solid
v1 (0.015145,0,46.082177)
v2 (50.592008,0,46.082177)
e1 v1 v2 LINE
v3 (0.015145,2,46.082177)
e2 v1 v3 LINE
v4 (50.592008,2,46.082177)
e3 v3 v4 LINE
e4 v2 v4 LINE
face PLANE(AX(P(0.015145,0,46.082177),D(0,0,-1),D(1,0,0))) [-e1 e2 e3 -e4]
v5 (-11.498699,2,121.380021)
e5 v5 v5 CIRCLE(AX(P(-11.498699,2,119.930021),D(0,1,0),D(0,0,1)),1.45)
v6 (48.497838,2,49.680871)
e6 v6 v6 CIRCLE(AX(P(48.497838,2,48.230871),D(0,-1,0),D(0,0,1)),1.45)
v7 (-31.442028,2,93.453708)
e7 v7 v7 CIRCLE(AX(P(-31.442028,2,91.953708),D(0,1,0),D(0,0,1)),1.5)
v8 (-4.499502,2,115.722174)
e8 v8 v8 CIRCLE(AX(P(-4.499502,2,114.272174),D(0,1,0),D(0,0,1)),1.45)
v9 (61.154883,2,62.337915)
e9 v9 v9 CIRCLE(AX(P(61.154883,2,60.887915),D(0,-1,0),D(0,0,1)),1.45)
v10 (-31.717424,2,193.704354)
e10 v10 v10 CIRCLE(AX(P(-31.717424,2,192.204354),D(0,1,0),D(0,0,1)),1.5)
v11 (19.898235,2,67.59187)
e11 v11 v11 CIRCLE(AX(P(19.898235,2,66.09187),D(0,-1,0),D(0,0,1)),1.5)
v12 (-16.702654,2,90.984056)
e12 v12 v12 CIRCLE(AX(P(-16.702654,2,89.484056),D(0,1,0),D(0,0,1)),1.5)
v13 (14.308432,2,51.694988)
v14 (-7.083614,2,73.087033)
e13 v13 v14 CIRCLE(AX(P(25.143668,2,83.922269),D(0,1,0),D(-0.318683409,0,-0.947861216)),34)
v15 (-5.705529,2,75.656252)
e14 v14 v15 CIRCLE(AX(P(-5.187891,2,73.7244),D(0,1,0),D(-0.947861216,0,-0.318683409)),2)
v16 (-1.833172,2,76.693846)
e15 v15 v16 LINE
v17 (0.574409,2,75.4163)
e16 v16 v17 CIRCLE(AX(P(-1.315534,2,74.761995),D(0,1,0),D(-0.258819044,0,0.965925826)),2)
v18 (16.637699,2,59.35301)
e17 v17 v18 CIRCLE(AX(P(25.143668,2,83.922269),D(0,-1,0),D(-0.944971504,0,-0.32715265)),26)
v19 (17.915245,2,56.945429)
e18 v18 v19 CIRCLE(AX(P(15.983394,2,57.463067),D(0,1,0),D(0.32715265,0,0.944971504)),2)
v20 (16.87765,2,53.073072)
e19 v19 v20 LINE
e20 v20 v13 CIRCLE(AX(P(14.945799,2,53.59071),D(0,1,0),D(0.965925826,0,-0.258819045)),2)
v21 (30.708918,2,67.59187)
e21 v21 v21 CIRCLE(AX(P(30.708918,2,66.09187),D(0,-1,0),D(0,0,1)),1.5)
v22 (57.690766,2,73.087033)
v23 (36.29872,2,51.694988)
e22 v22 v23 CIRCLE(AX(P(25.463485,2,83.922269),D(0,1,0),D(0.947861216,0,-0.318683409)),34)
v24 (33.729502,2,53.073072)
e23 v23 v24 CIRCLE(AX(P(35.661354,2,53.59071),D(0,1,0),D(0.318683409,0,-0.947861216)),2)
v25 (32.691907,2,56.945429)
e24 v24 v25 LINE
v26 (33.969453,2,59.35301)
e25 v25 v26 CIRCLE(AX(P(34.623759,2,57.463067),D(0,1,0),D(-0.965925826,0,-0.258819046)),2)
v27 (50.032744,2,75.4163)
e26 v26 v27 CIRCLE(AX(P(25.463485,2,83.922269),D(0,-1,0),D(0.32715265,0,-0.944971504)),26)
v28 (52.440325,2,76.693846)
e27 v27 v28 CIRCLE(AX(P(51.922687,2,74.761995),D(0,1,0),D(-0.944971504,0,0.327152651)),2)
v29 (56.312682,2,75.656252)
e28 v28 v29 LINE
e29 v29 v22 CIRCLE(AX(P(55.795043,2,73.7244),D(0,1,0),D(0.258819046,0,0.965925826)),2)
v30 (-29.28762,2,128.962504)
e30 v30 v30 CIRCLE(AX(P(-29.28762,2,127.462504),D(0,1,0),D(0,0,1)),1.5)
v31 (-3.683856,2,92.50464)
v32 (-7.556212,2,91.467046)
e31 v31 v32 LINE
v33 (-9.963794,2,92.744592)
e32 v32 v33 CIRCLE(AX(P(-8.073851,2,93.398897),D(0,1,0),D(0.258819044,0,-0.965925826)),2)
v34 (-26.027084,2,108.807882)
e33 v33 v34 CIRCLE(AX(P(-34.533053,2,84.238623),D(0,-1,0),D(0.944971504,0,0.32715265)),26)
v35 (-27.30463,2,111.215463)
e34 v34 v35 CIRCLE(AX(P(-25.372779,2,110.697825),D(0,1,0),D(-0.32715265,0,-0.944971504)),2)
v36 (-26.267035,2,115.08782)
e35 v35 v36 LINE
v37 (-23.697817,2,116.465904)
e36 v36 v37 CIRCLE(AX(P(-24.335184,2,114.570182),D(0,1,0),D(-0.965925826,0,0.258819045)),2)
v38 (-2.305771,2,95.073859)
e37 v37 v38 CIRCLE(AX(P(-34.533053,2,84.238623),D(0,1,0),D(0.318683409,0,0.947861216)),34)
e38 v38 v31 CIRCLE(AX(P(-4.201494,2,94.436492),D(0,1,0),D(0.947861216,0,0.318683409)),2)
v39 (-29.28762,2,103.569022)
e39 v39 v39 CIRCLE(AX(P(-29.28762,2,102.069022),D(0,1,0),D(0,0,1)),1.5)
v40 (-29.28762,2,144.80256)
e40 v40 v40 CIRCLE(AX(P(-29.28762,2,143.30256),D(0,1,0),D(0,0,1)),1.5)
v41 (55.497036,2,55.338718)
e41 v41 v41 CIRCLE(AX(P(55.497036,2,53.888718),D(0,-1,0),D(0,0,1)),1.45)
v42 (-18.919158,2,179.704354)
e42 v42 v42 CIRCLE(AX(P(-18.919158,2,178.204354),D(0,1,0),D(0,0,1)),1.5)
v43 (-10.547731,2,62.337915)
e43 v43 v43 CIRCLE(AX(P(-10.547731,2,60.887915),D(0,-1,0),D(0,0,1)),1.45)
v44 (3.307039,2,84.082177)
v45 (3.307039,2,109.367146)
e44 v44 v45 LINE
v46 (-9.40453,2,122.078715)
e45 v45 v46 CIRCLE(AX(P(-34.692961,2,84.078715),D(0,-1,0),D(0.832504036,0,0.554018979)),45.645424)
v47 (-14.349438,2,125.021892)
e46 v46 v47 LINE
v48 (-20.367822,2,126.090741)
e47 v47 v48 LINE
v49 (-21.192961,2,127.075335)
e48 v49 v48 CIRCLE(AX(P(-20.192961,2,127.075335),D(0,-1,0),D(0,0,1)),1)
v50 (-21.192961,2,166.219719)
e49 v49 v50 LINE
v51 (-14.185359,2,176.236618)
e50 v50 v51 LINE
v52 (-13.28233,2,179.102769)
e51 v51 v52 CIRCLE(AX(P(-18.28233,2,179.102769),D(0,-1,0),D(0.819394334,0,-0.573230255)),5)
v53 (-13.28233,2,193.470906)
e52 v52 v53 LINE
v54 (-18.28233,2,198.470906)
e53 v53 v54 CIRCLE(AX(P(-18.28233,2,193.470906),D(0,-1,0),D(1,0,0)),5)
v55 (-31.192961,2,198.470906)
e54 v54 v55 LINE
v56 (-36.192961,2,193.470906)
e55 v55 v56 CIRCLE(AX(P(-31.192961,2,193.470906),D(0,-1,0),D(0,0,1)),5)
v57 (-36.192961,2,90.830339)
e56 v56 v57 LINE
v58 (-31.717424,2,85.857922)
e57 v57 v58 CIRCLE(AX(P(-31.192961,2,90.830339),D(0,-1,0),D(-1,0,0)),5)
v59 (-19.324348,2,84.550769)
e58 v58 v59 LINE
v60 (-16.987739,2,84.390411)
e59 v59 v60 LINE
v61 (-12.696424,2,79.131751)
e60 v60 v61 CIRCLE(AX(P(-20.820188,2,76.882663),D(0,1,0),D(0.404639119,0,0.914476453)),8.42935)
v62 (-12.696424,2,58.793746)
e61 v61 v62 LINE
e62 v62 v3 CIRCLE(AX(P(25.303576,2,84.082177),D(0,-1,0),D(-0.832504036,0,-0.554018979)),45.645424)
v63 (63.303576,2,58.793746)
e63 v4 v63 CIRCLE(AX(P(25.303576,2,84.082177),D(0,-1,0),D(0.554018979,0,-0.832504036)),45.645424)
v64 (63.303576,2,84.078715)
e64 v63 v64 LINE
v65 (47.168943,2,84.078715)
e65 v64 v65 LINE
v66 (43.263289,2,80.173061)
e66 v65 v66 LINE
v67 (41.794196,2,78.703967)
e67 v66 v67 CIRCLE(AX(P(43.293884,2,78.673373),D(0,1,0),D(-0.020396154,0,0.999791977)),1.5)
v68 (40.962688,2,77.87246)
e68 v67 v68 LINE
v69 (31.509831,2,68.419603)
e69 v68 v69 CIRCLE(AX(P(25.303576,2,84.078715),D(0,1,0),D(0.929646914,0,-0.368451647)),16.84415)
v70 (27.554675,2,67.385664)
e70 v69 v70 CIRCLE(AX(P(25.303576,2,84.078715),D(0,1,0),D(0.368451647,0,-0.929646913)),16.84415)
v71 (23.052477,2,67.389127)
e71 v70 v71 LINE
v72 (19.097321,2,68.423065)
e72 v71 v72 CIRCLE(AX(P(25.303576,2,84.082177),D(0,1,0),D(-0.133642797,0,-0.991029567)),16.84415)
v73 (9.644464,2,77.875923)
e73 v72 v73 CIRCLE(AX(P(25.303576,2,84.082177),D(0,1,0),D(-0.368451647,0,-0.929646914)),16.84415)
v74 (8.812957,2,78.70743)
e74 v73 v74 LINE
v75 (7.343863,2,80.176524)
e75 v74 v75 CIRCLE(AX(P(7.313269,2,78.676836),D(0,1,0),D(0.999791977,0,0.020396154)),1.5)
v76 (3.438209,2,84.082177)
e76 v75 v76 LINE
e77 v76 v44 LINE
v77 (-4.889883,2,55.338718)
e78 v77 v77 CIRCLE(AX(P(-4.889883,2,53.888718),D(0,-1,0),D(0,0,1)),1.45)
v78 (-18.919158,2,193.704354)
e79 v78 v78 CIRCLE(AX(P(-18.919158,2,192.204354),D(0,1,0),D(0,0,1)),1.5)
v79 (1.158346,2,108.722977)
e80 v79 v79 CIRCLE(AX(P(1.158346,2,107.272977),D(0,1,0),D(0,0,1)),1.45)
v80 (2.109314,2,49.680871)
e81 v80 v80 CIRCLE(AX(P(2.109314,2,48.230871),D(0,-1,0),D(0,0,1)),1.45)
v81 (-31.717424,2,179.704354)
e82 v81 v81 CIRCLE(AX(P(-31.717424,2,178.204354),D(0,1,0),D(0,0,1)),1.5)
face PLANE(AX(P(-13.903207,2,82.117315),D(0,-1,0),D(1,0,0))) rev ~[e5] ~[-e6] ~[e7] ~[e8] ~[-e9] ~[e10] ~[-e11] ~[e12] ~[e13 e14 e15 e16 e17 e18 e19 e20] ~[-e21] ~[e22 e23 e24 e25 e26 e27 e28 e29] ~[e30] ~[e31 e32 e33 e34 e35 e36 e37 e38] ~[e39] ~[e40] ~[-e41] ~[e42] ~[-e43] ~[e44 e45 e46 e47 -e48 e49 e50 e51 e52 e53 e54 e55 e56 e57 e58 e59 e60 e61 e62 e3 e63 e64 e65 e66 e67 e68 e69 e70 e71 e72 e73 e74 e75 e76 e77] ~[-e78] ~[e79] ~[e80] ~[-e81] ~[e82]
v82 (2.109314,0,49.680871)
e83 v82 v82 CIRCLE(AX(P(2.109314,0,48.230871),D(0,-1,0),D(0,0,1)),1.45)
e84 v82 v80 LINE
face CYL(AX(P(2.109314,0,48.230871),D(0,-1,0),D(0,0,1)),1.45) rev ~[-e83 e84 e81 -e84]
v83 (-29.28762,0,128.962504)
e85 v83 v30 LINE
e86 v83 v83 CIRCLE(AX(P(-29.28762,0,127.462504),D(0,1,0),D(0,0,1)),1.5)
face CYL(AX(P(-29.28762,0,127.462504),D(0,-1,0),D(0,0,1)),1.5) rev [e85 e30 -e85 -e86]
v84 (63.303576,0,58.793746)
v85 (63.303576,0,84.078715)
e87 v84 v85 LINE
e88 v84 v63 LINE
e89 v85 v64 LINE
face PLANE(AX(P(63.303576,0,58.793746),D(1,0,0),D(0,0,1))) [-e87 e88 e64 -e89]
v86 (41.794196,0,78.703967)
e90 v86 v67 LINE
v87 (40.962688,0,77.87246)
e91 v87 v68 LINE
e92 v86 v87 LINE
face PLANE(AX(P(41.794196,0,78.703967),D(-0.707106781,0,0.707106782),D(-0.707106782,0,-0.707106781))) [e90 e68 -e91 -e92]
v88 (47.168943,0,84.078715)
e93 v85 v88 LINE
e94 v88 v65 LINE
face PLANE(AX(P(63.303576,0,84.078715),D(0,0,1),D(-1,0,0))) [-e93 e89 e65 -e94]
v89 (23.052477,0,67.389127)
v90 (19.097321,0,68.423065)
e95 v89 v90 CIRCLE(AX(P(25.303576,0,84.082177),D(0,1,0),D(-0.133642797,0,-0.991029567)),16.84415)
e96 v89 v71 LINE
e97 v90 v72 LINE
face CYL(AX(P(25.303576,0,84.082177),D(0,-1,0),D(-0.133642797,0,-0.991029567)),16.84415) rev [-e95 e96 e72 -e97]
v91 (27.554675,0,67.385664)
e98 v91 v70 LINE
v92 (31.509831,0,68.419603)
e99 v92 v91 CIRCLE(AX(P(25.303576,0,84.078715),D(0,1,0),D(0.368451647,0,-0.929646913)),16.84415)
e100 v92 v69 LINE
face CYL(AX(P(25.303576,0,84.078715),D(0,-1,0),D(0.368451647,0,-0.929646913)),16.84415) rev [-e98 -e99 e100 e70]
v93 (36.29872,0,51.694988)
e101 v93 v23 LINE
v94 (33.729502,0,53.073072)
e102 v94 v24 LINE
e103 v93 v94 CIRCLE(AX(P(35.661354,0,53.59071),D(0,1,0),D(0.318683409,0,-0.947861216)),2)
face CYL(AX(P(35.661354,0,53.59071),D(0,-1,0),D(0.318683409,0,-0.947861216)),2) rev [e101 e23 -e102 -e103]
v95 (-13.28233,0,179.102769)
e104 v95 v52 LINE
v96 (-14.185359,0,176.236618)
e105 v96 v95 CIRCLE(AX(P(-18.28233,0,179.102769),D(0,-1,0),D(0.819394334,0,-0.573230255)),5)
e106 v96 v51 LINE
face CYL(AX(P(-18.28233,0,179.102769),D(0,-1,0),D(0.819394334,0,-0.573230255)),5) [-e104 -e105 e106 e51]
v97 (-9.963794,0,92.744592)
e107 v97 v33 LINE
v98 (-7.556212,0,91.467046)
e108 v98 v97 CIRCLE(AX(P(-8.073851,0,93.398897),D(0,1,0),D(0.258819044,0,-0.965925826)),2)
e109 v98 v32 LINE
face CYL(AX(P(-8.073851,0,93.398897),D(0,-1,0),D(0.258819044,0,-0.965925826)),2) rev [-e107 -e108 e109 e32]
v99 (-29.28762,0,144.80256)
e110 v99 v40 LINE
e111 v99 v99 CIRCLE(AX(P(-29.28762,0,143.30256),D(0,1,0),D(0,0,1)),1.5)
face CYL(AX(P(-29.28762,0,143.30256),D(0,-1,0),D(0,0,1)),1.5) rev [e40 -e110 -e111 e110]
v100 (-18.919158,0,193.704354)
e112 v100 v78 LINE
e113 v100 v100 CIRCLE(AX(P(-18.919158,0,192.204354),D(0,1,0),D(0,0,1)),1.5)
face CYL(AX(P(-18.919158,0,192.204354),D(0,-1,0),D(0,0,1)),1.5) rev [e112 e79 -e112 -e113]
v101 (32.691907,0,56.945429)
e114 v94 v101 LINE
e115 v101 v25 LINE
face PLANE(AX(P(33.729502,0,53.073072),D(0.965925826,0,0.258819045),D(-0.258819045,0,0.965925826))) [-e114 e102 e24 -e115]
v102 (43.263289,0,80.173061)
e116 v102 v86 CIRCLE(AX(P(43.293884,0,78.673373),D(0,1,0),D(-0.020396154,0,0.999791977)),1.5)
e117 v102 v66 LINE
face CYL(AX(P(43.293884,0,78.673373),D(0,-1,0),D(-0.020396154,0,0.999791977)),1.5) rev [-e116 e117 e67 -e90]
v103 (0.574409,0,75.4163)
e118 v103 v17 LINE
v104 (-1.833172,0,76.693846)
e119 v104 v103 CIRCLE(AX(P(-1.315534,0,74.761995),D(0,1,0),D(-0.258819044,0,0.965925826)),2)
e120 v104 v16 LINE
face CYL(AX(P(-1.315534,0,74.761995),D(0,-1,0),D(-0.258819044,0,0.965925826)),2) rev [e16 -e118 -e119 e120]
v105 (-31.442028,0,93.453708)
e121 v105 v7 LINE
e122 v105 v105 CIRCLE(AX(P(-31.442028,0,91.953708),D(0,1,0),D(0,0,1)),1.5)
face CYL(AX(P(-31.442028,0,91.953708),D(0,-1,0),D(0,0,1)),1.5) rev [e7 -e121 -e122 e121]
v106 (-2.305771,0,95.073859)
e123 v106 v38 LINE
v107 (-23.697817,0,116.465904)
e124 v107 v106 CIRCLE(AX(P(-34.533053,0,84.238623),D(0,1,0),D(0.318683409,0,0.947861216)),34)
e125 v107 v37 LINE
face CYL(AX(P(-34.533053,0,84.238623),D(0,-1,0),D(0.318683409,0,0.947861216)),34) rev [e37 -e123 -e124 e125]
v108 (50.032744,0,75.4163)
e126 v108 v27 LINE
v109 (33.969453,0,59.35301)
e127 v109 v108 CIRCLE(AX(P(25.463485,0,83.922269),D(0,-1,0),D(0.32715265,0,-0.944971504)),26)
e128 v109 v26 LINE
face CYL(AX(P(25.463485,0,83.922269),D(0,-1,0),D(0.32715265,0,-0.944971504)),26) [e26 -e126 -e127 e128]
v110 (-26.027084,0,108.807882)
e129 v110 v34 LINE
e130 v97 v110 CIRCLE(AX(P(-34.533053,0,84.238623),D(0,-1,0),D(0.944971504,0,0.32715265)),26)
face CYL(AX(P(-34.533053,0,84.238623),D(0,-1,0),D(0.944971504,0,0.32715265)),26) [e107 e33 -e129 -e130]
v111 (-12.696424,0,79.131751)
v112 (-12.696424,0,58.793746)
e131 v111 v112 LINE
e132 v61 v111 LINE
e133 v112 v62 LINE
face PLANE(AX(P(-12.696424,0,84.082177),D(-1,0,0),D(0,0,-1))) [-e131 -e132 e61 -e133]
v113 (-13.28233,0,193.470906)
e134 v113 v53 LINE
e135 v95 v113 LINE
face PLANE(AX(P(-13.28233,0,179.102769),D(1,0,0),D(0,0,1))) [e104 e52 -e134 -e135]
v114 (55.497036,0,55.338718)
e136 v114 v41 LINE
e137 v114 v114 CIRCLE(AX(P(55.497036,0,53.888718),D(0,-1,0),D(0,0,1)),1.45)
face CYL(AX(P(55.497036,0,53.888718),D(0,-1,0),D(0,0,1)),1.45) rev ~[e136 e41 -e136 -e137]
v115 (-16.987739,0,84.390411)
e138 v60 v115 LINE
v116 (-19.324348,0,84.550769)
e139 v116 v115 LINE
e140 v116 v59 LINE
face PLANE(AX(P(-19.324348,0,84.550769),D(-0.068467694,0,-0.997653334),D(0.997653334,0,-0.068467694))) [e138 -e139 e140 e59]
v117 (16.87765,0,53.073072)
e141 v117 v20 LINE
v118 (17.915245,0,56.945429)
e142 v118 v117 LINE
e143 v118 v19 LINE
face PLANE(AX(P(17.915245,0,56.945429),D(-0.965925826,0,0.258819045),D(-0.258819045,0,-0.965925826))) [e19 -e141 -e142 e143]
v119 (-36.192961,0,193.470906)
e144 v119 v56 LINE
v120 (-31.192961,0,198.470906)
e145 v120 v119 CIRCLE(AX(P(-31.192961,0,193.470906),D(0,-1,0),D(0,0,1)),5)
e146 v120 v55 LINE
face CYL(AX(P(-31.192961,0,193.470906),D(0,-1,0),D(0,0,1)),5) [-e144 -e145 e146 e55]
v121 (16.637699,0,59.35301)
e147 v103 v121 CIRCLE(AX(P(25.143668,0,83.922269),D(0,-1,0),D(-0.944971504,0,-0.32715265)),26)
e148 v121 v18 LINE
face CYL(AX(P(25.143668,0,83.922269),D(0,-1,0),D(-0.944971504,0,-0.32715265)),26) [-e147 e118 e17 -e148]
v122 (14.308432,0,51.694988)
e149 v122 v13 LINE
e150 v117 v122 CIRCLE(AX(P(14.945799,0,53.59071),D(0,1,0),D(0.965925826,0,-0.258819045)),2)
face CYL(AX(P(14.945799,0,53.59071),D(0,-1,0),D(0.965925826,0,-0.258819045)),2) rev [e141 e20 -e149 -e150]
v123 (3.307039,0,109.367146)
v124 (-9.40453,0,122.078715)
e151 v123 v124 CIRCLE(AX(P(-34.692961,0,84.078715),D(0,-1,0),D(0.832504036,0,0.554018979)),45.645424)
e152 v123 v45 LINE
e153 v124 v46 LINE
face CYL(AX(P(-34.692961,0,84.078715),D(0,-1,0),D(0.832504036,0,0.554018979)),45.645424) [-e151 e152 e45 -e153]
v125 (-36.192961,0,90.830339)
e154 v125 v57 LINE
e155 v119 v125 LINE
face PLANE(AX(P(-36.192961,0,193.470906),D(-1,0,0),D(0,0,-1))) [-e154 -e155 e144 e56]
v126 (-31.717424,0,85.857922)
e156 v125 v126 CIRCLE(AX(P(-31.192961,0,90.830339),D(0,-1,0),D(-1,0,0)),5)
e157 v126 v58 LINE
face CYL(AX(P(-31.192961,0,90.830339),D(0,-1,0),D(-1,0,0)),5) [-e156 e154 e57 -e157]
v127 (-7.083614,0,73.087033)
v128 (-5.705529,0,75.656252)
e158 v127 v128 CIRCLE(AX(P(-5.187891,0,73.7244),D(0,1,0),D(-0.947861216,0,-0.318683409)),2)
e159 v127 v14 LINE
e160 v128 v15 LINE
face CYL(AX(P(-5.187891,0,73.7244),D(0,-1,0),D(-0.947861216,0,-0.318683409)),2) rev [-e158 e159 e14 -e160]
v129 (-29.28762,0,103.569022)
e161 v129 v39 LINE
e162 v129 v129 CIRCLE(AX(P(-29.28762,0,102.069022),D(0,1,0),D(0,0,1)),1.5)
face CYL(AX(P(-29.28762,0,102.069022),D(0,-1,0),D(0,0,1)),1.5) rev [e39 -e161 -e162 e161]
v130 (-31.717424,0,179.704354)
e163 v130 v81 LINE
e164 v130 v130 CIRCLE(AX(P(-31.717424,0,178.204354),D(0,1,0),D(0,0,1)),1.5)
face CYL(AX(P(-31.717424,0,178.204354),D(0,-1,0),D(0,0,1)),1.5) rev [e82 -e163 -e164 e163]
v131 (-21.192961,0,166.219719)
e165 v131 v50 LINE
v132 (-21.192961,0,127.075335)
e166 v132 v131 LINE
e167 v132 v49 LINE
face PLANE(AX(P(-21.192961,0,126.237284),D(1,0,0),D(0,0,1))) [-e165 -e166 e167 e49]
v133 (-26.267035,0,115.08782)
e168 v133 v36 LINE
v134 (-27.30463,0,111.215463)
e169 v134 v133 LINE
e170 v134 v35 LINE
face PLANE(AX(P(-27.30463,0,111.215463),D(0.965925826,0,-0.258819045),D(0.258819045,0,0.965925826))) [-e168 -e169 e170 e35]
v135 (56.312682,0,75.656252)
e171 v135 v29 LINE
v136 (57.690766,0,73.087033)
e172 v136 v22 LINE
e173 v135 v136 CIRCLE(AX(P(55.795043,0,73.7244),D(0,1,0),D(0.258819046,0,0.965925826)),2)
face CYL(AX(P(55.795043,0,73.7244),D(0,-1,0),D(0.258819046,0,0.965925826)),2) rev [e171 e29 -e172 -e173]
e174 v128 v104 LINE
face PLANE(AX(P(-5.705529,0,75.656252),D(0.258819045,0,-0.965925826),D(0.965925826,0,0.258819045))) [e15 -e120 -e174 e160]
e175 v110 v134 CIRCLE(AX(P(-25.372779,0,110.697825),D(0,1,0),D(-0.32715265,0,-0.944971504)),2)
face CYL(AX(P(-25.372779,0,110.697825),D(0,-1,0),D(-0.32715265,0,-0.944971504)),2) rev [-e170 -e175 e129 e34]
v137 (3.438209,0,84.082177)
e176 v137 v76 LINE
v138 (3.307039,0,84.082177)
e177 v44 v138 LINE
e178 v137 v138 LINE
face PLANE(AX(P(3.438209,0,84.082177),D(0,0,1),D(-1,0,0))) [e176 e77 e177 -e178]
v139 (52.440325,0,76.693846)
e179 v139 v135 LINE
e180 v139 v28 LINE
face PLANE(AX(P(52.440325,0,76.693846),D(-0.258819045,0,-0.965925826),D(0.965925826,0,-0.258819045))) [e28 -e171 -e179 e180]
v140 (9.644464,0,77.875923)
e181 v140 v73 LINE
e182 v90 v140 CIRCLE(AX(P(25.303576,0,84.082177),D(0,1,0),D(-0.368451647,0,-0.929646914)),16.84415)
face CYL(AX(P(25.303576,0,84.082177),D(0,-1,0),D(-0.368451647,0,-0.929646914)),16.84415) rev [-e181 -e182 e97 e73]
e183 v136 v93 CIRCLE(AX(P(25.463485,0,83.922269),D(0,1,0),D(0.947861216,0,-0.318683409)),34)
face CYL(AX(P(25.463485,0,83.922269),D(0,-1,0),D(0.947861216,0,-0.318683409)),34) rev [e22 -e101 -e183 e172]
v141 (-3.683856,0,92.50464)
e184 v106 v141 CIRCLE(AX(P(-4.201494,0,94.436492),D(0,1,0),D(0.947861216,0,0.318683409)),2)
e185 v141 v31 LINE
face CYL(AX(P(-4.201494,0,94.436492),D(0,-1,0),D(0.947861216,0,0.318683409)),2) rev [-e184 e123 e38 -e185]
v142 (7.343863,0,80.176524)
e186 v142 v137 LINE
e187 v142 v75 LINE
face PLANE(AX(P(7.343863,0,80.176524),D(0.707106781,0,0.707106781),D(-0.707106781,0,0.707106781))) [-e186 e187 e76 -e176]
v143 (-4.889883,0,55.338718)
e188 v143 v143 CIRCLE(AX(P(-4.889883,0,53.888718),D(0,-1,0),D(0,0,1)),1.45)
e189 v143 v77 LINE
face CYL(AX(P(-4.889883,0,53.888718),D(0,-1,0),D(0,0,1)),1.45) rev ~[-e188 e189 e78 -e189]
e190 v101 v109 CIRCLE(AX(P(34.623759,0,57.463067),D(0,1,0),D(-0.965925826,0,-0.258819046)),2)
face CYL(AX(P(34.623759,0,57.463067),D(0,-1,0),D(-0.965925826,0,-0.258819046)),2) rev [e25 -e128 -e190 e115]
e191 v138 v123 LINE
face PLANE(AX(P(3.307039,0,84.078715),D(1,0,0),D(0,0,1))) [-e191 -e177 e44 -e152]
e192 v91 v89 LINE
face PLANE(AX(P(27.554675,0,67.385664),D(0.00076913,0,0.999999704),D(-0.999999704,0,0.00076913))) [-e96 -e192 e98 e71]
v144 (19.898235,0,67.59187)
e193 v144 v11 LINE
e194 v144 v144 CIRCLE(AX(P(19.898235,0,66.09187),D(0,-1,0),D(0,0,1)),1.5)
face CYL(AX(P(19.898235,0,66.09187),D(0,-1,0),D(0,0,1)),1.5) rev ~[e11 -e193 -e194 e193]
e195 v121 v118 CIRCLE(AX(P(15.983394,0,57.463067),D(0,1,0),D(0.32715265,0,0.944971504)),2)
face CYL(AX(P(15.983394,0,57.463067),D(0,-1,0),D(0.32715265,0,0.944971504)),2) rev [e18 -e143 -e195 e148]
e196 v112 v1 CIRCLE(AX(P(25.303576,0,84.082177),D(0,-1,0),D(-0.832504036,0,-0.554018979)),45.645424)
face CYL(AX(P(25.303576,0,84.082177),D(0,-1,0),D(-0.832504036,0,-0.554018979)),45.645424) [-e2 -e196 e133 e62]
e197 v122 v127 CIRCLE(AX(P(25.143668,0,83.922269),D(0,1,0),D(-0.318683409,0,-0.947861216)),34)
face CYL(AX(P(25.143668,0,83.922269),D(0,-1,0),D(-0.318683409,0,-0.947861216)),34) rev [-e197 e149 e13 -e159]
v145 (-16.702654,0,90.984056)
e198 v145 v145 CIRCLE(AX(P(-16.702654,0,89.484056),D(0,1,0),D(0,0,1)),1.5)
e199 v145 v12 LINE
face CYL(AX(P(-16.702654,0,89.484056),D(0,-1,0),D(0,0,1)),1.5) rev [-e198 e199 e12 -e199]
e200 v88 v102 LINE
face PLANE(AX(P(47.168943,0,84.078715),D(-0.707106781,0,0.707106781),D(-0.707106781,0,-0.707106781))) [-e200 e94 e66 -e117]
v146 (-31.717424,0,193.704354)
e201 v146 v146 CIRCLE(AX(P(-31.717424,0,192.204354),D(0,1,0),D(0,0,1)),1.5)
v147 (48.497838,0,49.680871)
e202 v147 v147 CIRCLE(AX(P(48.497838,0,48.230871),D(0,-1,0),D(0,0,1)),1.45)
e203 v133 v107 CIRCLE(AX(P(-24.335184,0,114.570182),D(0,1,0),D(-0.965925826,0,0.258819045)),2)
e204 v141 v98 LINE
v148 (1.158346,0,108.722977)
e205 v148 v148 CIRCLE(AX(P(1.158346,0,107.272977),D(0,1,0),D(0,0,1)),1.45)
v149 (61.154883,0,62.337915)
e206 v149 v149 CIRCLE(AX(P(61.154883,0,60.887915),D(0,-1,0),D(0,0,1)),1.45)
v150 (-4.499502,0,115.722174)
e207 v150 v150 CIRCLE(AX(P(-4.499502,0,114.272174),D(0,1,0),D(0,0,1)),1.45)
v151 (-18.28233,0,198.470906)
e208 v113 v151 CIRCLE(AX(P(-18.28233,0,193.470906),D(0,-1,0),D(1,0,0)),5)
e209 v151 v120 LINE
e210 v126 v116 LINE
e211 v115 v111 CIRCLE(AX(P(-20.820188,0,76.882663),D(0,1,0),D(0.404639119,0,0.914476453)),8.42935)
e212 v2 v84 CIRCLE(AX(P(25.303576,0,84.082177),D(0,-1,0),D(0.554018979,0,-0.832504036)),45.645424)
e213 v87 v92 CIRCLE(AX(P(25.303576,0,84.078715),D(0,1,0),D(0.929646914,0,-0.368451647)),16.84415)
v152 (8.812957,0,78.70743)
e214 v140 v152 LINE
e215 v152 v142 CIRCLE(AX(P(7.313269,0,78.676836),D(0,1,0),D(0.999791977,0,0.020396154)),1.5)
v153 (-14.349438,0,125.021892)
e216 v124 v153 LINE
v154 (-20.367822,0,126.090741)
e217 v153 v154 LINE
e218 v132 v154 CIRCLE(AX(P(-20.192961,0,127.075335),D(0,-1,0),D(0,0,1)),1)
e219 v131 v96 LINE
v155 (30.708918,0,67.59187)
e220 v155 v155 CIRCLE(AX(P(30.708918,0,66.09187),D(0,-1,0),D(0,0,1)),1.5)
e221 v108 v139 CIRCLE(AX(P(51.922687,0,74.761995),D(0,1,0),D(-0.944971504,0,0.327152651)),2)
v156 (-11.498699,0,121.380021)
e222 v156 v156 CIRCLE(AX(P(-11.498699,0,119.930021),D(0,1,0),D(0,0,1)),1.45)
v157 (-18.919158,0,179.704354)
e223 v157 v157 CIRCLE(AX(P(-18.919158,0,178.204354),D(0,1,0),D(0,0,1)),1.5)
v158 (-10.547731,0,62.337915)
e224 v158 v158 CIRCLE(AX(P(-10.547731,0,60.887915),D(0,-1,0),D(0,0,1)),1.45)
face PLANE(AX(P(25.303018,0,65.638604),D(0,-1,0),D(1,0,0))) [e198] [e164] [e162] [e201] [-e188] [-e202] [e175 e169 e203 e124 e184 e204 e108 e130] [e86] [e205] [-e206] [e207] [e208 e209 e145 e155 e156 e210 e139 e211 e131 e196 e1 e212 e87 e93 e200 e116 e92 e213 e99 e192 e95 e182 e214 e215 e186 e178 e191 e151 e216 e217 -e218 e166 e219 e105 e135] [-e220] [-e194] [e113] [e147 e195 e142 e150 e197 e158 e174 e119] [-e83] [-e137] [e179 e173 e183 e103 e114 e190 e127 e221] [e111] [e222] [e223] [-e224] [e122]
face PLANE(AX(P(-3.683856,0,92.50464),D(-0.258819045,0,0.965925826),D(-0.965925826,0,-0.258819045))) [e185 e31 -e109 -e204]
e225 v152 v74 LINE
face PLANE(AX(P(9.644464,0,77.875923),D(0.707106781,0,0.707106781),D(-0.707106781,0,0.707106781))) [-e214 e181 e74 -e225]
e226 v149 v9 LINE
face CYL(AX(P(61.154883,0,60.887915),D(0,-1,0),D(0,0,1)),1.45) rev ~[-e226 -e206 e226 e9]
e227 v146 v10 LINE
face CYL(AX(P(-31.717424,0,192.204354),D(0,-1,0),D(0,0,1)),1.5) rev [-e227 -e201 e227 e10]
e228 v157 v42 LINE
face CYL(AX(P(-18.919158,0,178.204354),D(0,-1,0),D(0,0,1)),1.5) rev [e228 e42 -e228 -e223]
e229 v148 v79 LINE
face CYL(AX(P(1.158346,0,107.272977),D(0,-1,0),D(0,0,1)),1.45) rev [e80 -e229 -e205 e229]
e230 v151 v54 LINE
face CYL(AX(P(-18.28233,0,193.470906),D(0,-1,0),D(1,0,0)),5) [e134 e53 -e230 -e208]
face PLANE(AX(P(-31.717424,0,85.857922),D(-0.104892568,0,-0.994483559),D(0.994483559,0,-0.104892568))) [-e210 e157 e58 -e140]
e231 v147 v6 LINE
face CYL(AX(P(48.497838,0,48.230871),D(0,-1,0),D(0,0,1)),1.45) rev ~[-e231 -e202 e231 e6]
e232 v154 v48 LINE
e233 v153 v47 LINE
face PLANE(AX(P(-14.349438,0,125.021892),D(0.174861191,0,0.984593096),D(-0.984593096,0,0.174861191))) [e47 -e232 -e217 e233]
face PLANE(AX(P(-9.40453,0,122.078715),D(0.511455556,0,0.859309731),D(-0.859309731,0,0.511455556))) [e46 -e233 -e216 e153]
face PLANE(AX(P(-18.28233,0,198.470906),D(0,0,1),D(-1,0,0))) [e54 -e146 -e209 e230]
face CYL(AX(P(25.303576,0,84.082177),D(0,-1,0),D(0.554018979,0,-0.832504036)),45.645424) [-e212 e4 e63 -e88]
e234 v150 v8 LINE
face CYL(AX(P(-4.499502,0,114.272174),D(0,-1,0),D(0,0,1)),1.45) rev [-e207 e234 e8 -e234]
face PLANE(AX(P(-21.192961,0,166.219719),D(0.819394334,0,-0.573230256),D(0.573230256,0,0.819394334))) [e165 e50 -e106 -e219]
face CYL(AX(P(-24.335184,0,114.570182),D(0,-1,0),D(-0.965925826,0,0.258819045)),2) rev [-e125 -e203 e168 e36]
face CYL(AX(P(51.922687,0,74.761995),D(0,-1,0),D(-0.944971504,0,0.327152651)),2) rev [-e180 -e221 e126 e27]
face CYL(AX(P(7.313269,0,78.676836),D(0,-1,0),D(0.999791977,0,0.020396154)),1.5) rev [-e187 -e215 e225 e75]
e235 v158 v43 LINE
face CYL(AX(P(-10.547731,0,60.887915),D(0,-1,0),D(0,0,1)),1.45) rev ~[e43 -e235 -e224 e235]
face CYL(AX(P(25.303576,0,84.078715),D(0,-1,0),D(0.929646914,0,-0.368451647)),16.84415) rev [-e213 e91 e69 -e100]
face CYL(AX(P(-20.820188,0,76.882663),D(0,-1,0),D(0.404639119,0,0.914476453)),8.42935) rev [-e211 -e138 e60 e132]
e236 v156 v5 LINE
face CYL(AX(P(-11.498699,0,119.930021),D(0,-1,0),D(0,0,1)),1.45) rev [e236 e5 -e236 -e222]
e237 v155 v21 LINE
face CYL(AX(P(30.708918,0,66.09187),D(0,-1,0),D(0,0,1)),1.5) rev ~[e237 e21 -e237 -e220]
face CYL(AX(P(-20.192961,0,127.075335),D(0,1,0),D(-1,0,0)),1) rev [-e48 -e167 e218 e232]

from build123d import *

# Parameters (mm, degrees)
SKETCH1_R           = 1.5
SKETCH1_R_2         = 1.45
BOSS_EXTRUDE1_DEPTH = 2
SKETCH_1_R          = 1.45
SKETCH_1_R_2        = 1.5
EXTRUDE_1_DEPTH     = 2
EXTRUDE_2_DEPTH     = 2
FILLET1_R           = 1


with BuildPart() as part:
    # Sketch1 → Boss-Extrude1 (new body)
    with BuildSketch(Plane(origin=(0, 0, 0), x_dir=(1, 0, 0), z_dir=(0, 1, 0))):
        with BuildLine():
            Line((-21.192961085, -132.078714637), (-21.192961085, -166.219718768))
            Line((-21.192961085, -166.219718768), (-14.185358568, -176.236618152))
            ThreePointArc((-14.185358568, -176.236618152), (-13.513427934, -177.60024794), (-13.282330236, -179.10276943))
            Line((-13.282330236, -179.10276943), (-13.282330236, -193.470906367))
            ThreePointArc((-13.282330236, -193.470906367), (-14.74679633, -197.006440273), (-18.282330236, -198.470906367))
            Line((-18.282330236, -198.470906367), (-21.77517331, -198.470906367))
            Line((-21.77517331, -198.470906367), (-31.192961085, -198.470906367))
            ThreePointArc((-31.192961085, -198.470906367), (-34.728494991, -197.006440273), (-36.192961085, -193.470906367))
            Line((-36.192961085, -193.470906367), (-36.192961085, -90.830339434))
            ThreePointArc((-36.192961085, -90.830339434), (-34.909297601, -87.485366654), (-31.717423925, -85.857921639))
            Line((-31.717423925, -85.857921639), (-19.324348326, -84.550769285))
            Line((-19.324348326, -84.550769285), (-12.49642386, -84.082177413))
            Line((-12.49642386, -84.082177413), (3.10357614, -84.082177413))
            Line((3.10357614, -84.082177413), (3.307038915, -84.078714637))
            Line((3.307038915, -84.078714637), (3.307038915, -109.367146032))
            ThreePointArc((3.307038915, -109.367146032), (-2.41677201, -116.354903712), (-9.40452969, -122.078714637))
            Line((-9.40452969, -122.078714637), (-14.349438262, -125.02189202))
            Line((-14.349438262, -125.02189202), (-21.192961085, -126.237284003))
            Line((-21.192961085, -126.237284003), (-21.192961085, -132.078714637))
        make_face()
        with Locations(Location((-18.919157596, -192.204354167, 0), (0, 0, 270))):
            Circle(SKETCH1_R, mode=Mode.SUBTRACT)
        with Locations(Location((-18.919157596, -178.204354167, 0), (0, 0, 270))):
            Circle(SKETCH1_R, mode=Mode.SUBTRACT)
        with Locations(Location((-31.717423925, -178.204354167, 0), (0, 0, 270))):
            Circle(SKETCH1_R, mode=Mode.SUBTRACT)
        with Locations(Location((-31.717423925, -192.204354167, 0), (0, 0, 270))):
            Circle(SKETCH1_R, mode=Mode.SUBTRACT)
        with Locations(Location((-29.287619577, -102.069022085, 0), (0, 0, 270))):
            Circle(SKETCH1_R, mode=Mode.SUBTRACT)
        with Locations(Location((-16.702653636, -89.484056145, 0), (0, 0, 270))):
            Circle(SKETCH1_R, mode=Mode.SUBTRACT)
        with Locations(Location((1.158345759, -107.272976806, 0), (0, 0, 270))):
            Circle(SKETCH1_R_2, mode=Mode.SUBTRACT)
        with Locations(Location((-4.499501528, -114.272174194, 0), (0, 0, 270))):
            Circle(SKETCH1_R_2, mode=Mode.SUBTRACT)
        with Locations(Location((-11.498698916, -119.930021481, 0), (0, 0, 270))):
            Circle(SKETCH1_R_2, mode=Mode.SUBTRACT)
        with Locations(Location((-29.287619577, -127.462503818, 0), (0, 0, 270))):
            Circle(SKETCH1_R, mode=Mode.SUBTRACT)
        with Locations(Location((-29.287619577, -143.302559608, 0), (0, 0, 270))):
            Circle(SKETCH1_R, mode=Mode.SUBTRACT)
        with Locations(Location((-31.442028499, -91.953708305, 0), (0, 0, 270))):
            Circle(SKETCH1_R, mode=Mode.SUBTRACT)
        with BuildLine():
            Line((-3.683855698, -92.504640443), (-7.556212498, -91.467045565))
            ThreePointArc((-7.556212498, -91.467045565), (-9.011313317, -91.632215687), (-9.963793597, -92.744591918))
            ThreePointArc((-9.963793597, -92.744591918), (-16.148276393, -102.623399329), (-26.027083804, -108.807882125))
            ThreePointArc((-26.027083804, -108.807882125), (-27.139460035, -109.760362404), (-27.304630157, -111.215463223))
            Line((-27.304630157, -111.215463223), (-26.267035279, -115.087820024))
            ThreePointArc((-26.267035279, -115.087820024), (-25.280541686, -116.332651264), (-23.697816809, -116.465904366))
            ThreePointArc((-23.697816809, -116.465904366), (-10.491422144, -108.280253578), (-2.305771356, -95.073858913))
            ThreePointArc((-2.305771356, -95.073858913), (-2.439024458, -93.491134036), (-3.683855698, -92.504640443))
        make_face(mode=Mode.SUBTRACT)
    extrude(amount=BOSS_EXTRUDE1_DEPTH)

    # 草图1 → 凸台-拉伸1 (add)
    with BuildSketch(Plane.XZ):
        with BuildLine():
            Line((-12.69642386, 84.082177413), (-12.69642386, 58.793746018))
            ThreePointArc((-12.69642386, 58.793746018), (-6.972612935, 51.805988338), (0.015144745, 46.082177413))
            Line((0.015144745, 46.082177413), (25.30357614, 46.082177413))
            Line((25.30357614, 46.082177413), (50.592007535, 46.082177413))
            ThreePointArc((50.592007535, 46.082177413), (57.579765215, 51.805988338), (63.30357614, 58.793746018))
            Line((63.30357614, 58.793746018), (63.30357614, 84.078714637))
            Line((63.30357614, 84.078714637), (47.168942899, 84.078714637))
            Line((47.168942899, 84.078714637), (43.263289357, 80.173061094))
            ThreePointArc((43.263289357, 80.173061094), (44.35454376, 77.612712957), (41.794195623, 78.70396736))
            Line((41.794195623, 78.70396736), (40.962688124, 77.872459862))
            ThreePointArc((40.962688124, 77.872459862), (37.21418877, 72.168102006), (31.509830915, 68.419602653))
            ThreePointArc((31.509830915, 68.419602653), (29.563736563, 67.782199069), (27.554675458, 67.385664037))
            Line((27.554675458, 67.385664037), (23.052476821, 67.389126813))
            ThreePointArc((23.052476821, 67.389126813), (21.043415716, 67.785661845), (19.097321364, 68.423065428))
            ThreePointArc((19.097321364, 68.423065428), (13.392963509, 72.171564782), (9.644464155, 77.875922638))
            Line((9.644464155, 77.875922638), (8.812956657, 78.707430136))
            ThreePointArc((8.812956657, 78.707430136), (6.25260852, 77.616175733), (7.343862923, 80.17652387))
            Line((7.343862923, 80.17652387), (3.43820938, 84.082177413))
            Line((3.43820938, 84.082177413), (-12.69642386, 84.082177413))
        make_face()
        with Locations(Location((61.154882984, 60.887915244, 0), (0, 0, 90))):
            Circle(SKETCH_1_R, mode=Mode.SUBTRACT)
        with Locations(Location((55.497035696, 53.888717856, 0), (0, 0, 90))):
            Circle(SKETCH_1_R, mode=Mode.SUBTRACT)
        with Locations(Location((48.497838309, 48.230870569, 0), (0, 0, 90))):
            Circle(SKETCH_1_R, mode=Mode.SUBTRACT)
        with Locations(Location((30.708917648, 66.091869964, 0), (0, 0, 90))):
            Circle(SKETCH_1_R_2, mode=Mode.SUBTRACT)
        with Locations(Location((2.109313971, 48.230870569, 0), (0, 0, 90))):
            Circle(SKETCH_1_R, mode=Mode.SUBTRACT)
        with Locations(Location((-4.889883417, 53.888717856, 0), (0, 0, 90))):
            Circle(SKETCH_1_R, mode=Mode.SUBTRACT)
        with Locations(Location((-10.547730705, 60.887915244, 0), (0, 0, 90))):
            Circle(SKETCH_1_R, mode=Mode.SUBTRACT)
        with Locations(Location((19.898234632, 66.091869964, 0), (0, 0, 90))):
            Circle(SKETCH_1_R_2, mode=Mode.SUBTRACT)
        with BuildLine():
            Line((52.440324726, 76.693846485), (56.312681527, 75.656251607))
            ThreePointArc((56.312681527, 75.656251607), (57.557512766, 74.669758014), (57.690765869, 73.087033137))
            ThreePointArc((57.690765869, 73.087033137), (49.505115081, 59.880638472), (36.298720415, 51.694987684))
            ThreePointArc((36.298720415, 51.694987684), (34.715995538, 51.828240786), (33.729501945, 53.073072026))
            Line((33.729501945, 53.073072026), (32.691907068, 56.945428827))
            ThreePointArc((32.691907068, 56.945428827), (32.857077189, 58.400529646), (33.96945342, 59.353009925))
            ThreePointArc((33.96945342, 59.353009925), (43.848260831, 65.537492721), (50.032743627, 75.416300132))
            ThreePointArc((50.032743627, 75.416300132), (50.985223907, 76.528676363), (52.440324726, 76.693846485))
        make_face(mode=Mode.SUBTRACT)
        with BuildLine():
            Line((17.915245212, 56.945428827), (16.877650334, 53.073072026))
            ThreePointArc((16.877650334, 53.073072026), (15.891156741, 51.828240786), (14.308431864, 51.694987684))
            ThreePointArc((14.308431864, 51.694987684), (1.102037199, 59.880638472), (-7.083613589, 73.087033137))
            ThreePointArc((-7.083613589, 73.087033137), (-6.950360487, 74.669758014), (-5.705529247, 75.656251607))
            Line((-5.705529247, 75.656251607), (-1.833172447, 76.693846485))
            ThreePointArc((-1.833172447, 76.693846485), (-0.378071628, 76.528676363), (0.574408652, 75.416300132))
            ThreePointArc((0.574408652, 75.416300132), (6.758891448, 65.537492721), (16.637698859, 59.353009925))
            ThreePointArc((16.637698859, 59.353009925), (17.75007509, 58.400529646), (17.915245212, 56.945428827))
        make_face(mode=Mode.SUBTRACT)
    extrude(amount=-EXTRUDE_1_DEPTH)

    # 草图2 → 凸台-拉伸2 (add)
    with BuildSketch(Plane.XZ):
        with BuildLine():
            Line((-12.443677961, 84.250317512), (-17.409343258, 84.591104879))
            ThreePointArc((-17.409343258, 84.591104879), (-14.024568956, 81.869997058), (-12.443677961, 77.825011457))
            Line((-12.443677961, 77.825011457), (-12.443677961, 84.250317512))
        make_face()
    extrude(amount=-EXTRUDE_2_DEPTH)

    # Fillet1
    fillet1_edges = [part.edges().sort_by_distance(p)[0] for p in [
        (-21.192961085, 1, 126.237284003),
    ]]
    fillet(fillet1_edges, radius=FILLET1_R)


solid = part.part
